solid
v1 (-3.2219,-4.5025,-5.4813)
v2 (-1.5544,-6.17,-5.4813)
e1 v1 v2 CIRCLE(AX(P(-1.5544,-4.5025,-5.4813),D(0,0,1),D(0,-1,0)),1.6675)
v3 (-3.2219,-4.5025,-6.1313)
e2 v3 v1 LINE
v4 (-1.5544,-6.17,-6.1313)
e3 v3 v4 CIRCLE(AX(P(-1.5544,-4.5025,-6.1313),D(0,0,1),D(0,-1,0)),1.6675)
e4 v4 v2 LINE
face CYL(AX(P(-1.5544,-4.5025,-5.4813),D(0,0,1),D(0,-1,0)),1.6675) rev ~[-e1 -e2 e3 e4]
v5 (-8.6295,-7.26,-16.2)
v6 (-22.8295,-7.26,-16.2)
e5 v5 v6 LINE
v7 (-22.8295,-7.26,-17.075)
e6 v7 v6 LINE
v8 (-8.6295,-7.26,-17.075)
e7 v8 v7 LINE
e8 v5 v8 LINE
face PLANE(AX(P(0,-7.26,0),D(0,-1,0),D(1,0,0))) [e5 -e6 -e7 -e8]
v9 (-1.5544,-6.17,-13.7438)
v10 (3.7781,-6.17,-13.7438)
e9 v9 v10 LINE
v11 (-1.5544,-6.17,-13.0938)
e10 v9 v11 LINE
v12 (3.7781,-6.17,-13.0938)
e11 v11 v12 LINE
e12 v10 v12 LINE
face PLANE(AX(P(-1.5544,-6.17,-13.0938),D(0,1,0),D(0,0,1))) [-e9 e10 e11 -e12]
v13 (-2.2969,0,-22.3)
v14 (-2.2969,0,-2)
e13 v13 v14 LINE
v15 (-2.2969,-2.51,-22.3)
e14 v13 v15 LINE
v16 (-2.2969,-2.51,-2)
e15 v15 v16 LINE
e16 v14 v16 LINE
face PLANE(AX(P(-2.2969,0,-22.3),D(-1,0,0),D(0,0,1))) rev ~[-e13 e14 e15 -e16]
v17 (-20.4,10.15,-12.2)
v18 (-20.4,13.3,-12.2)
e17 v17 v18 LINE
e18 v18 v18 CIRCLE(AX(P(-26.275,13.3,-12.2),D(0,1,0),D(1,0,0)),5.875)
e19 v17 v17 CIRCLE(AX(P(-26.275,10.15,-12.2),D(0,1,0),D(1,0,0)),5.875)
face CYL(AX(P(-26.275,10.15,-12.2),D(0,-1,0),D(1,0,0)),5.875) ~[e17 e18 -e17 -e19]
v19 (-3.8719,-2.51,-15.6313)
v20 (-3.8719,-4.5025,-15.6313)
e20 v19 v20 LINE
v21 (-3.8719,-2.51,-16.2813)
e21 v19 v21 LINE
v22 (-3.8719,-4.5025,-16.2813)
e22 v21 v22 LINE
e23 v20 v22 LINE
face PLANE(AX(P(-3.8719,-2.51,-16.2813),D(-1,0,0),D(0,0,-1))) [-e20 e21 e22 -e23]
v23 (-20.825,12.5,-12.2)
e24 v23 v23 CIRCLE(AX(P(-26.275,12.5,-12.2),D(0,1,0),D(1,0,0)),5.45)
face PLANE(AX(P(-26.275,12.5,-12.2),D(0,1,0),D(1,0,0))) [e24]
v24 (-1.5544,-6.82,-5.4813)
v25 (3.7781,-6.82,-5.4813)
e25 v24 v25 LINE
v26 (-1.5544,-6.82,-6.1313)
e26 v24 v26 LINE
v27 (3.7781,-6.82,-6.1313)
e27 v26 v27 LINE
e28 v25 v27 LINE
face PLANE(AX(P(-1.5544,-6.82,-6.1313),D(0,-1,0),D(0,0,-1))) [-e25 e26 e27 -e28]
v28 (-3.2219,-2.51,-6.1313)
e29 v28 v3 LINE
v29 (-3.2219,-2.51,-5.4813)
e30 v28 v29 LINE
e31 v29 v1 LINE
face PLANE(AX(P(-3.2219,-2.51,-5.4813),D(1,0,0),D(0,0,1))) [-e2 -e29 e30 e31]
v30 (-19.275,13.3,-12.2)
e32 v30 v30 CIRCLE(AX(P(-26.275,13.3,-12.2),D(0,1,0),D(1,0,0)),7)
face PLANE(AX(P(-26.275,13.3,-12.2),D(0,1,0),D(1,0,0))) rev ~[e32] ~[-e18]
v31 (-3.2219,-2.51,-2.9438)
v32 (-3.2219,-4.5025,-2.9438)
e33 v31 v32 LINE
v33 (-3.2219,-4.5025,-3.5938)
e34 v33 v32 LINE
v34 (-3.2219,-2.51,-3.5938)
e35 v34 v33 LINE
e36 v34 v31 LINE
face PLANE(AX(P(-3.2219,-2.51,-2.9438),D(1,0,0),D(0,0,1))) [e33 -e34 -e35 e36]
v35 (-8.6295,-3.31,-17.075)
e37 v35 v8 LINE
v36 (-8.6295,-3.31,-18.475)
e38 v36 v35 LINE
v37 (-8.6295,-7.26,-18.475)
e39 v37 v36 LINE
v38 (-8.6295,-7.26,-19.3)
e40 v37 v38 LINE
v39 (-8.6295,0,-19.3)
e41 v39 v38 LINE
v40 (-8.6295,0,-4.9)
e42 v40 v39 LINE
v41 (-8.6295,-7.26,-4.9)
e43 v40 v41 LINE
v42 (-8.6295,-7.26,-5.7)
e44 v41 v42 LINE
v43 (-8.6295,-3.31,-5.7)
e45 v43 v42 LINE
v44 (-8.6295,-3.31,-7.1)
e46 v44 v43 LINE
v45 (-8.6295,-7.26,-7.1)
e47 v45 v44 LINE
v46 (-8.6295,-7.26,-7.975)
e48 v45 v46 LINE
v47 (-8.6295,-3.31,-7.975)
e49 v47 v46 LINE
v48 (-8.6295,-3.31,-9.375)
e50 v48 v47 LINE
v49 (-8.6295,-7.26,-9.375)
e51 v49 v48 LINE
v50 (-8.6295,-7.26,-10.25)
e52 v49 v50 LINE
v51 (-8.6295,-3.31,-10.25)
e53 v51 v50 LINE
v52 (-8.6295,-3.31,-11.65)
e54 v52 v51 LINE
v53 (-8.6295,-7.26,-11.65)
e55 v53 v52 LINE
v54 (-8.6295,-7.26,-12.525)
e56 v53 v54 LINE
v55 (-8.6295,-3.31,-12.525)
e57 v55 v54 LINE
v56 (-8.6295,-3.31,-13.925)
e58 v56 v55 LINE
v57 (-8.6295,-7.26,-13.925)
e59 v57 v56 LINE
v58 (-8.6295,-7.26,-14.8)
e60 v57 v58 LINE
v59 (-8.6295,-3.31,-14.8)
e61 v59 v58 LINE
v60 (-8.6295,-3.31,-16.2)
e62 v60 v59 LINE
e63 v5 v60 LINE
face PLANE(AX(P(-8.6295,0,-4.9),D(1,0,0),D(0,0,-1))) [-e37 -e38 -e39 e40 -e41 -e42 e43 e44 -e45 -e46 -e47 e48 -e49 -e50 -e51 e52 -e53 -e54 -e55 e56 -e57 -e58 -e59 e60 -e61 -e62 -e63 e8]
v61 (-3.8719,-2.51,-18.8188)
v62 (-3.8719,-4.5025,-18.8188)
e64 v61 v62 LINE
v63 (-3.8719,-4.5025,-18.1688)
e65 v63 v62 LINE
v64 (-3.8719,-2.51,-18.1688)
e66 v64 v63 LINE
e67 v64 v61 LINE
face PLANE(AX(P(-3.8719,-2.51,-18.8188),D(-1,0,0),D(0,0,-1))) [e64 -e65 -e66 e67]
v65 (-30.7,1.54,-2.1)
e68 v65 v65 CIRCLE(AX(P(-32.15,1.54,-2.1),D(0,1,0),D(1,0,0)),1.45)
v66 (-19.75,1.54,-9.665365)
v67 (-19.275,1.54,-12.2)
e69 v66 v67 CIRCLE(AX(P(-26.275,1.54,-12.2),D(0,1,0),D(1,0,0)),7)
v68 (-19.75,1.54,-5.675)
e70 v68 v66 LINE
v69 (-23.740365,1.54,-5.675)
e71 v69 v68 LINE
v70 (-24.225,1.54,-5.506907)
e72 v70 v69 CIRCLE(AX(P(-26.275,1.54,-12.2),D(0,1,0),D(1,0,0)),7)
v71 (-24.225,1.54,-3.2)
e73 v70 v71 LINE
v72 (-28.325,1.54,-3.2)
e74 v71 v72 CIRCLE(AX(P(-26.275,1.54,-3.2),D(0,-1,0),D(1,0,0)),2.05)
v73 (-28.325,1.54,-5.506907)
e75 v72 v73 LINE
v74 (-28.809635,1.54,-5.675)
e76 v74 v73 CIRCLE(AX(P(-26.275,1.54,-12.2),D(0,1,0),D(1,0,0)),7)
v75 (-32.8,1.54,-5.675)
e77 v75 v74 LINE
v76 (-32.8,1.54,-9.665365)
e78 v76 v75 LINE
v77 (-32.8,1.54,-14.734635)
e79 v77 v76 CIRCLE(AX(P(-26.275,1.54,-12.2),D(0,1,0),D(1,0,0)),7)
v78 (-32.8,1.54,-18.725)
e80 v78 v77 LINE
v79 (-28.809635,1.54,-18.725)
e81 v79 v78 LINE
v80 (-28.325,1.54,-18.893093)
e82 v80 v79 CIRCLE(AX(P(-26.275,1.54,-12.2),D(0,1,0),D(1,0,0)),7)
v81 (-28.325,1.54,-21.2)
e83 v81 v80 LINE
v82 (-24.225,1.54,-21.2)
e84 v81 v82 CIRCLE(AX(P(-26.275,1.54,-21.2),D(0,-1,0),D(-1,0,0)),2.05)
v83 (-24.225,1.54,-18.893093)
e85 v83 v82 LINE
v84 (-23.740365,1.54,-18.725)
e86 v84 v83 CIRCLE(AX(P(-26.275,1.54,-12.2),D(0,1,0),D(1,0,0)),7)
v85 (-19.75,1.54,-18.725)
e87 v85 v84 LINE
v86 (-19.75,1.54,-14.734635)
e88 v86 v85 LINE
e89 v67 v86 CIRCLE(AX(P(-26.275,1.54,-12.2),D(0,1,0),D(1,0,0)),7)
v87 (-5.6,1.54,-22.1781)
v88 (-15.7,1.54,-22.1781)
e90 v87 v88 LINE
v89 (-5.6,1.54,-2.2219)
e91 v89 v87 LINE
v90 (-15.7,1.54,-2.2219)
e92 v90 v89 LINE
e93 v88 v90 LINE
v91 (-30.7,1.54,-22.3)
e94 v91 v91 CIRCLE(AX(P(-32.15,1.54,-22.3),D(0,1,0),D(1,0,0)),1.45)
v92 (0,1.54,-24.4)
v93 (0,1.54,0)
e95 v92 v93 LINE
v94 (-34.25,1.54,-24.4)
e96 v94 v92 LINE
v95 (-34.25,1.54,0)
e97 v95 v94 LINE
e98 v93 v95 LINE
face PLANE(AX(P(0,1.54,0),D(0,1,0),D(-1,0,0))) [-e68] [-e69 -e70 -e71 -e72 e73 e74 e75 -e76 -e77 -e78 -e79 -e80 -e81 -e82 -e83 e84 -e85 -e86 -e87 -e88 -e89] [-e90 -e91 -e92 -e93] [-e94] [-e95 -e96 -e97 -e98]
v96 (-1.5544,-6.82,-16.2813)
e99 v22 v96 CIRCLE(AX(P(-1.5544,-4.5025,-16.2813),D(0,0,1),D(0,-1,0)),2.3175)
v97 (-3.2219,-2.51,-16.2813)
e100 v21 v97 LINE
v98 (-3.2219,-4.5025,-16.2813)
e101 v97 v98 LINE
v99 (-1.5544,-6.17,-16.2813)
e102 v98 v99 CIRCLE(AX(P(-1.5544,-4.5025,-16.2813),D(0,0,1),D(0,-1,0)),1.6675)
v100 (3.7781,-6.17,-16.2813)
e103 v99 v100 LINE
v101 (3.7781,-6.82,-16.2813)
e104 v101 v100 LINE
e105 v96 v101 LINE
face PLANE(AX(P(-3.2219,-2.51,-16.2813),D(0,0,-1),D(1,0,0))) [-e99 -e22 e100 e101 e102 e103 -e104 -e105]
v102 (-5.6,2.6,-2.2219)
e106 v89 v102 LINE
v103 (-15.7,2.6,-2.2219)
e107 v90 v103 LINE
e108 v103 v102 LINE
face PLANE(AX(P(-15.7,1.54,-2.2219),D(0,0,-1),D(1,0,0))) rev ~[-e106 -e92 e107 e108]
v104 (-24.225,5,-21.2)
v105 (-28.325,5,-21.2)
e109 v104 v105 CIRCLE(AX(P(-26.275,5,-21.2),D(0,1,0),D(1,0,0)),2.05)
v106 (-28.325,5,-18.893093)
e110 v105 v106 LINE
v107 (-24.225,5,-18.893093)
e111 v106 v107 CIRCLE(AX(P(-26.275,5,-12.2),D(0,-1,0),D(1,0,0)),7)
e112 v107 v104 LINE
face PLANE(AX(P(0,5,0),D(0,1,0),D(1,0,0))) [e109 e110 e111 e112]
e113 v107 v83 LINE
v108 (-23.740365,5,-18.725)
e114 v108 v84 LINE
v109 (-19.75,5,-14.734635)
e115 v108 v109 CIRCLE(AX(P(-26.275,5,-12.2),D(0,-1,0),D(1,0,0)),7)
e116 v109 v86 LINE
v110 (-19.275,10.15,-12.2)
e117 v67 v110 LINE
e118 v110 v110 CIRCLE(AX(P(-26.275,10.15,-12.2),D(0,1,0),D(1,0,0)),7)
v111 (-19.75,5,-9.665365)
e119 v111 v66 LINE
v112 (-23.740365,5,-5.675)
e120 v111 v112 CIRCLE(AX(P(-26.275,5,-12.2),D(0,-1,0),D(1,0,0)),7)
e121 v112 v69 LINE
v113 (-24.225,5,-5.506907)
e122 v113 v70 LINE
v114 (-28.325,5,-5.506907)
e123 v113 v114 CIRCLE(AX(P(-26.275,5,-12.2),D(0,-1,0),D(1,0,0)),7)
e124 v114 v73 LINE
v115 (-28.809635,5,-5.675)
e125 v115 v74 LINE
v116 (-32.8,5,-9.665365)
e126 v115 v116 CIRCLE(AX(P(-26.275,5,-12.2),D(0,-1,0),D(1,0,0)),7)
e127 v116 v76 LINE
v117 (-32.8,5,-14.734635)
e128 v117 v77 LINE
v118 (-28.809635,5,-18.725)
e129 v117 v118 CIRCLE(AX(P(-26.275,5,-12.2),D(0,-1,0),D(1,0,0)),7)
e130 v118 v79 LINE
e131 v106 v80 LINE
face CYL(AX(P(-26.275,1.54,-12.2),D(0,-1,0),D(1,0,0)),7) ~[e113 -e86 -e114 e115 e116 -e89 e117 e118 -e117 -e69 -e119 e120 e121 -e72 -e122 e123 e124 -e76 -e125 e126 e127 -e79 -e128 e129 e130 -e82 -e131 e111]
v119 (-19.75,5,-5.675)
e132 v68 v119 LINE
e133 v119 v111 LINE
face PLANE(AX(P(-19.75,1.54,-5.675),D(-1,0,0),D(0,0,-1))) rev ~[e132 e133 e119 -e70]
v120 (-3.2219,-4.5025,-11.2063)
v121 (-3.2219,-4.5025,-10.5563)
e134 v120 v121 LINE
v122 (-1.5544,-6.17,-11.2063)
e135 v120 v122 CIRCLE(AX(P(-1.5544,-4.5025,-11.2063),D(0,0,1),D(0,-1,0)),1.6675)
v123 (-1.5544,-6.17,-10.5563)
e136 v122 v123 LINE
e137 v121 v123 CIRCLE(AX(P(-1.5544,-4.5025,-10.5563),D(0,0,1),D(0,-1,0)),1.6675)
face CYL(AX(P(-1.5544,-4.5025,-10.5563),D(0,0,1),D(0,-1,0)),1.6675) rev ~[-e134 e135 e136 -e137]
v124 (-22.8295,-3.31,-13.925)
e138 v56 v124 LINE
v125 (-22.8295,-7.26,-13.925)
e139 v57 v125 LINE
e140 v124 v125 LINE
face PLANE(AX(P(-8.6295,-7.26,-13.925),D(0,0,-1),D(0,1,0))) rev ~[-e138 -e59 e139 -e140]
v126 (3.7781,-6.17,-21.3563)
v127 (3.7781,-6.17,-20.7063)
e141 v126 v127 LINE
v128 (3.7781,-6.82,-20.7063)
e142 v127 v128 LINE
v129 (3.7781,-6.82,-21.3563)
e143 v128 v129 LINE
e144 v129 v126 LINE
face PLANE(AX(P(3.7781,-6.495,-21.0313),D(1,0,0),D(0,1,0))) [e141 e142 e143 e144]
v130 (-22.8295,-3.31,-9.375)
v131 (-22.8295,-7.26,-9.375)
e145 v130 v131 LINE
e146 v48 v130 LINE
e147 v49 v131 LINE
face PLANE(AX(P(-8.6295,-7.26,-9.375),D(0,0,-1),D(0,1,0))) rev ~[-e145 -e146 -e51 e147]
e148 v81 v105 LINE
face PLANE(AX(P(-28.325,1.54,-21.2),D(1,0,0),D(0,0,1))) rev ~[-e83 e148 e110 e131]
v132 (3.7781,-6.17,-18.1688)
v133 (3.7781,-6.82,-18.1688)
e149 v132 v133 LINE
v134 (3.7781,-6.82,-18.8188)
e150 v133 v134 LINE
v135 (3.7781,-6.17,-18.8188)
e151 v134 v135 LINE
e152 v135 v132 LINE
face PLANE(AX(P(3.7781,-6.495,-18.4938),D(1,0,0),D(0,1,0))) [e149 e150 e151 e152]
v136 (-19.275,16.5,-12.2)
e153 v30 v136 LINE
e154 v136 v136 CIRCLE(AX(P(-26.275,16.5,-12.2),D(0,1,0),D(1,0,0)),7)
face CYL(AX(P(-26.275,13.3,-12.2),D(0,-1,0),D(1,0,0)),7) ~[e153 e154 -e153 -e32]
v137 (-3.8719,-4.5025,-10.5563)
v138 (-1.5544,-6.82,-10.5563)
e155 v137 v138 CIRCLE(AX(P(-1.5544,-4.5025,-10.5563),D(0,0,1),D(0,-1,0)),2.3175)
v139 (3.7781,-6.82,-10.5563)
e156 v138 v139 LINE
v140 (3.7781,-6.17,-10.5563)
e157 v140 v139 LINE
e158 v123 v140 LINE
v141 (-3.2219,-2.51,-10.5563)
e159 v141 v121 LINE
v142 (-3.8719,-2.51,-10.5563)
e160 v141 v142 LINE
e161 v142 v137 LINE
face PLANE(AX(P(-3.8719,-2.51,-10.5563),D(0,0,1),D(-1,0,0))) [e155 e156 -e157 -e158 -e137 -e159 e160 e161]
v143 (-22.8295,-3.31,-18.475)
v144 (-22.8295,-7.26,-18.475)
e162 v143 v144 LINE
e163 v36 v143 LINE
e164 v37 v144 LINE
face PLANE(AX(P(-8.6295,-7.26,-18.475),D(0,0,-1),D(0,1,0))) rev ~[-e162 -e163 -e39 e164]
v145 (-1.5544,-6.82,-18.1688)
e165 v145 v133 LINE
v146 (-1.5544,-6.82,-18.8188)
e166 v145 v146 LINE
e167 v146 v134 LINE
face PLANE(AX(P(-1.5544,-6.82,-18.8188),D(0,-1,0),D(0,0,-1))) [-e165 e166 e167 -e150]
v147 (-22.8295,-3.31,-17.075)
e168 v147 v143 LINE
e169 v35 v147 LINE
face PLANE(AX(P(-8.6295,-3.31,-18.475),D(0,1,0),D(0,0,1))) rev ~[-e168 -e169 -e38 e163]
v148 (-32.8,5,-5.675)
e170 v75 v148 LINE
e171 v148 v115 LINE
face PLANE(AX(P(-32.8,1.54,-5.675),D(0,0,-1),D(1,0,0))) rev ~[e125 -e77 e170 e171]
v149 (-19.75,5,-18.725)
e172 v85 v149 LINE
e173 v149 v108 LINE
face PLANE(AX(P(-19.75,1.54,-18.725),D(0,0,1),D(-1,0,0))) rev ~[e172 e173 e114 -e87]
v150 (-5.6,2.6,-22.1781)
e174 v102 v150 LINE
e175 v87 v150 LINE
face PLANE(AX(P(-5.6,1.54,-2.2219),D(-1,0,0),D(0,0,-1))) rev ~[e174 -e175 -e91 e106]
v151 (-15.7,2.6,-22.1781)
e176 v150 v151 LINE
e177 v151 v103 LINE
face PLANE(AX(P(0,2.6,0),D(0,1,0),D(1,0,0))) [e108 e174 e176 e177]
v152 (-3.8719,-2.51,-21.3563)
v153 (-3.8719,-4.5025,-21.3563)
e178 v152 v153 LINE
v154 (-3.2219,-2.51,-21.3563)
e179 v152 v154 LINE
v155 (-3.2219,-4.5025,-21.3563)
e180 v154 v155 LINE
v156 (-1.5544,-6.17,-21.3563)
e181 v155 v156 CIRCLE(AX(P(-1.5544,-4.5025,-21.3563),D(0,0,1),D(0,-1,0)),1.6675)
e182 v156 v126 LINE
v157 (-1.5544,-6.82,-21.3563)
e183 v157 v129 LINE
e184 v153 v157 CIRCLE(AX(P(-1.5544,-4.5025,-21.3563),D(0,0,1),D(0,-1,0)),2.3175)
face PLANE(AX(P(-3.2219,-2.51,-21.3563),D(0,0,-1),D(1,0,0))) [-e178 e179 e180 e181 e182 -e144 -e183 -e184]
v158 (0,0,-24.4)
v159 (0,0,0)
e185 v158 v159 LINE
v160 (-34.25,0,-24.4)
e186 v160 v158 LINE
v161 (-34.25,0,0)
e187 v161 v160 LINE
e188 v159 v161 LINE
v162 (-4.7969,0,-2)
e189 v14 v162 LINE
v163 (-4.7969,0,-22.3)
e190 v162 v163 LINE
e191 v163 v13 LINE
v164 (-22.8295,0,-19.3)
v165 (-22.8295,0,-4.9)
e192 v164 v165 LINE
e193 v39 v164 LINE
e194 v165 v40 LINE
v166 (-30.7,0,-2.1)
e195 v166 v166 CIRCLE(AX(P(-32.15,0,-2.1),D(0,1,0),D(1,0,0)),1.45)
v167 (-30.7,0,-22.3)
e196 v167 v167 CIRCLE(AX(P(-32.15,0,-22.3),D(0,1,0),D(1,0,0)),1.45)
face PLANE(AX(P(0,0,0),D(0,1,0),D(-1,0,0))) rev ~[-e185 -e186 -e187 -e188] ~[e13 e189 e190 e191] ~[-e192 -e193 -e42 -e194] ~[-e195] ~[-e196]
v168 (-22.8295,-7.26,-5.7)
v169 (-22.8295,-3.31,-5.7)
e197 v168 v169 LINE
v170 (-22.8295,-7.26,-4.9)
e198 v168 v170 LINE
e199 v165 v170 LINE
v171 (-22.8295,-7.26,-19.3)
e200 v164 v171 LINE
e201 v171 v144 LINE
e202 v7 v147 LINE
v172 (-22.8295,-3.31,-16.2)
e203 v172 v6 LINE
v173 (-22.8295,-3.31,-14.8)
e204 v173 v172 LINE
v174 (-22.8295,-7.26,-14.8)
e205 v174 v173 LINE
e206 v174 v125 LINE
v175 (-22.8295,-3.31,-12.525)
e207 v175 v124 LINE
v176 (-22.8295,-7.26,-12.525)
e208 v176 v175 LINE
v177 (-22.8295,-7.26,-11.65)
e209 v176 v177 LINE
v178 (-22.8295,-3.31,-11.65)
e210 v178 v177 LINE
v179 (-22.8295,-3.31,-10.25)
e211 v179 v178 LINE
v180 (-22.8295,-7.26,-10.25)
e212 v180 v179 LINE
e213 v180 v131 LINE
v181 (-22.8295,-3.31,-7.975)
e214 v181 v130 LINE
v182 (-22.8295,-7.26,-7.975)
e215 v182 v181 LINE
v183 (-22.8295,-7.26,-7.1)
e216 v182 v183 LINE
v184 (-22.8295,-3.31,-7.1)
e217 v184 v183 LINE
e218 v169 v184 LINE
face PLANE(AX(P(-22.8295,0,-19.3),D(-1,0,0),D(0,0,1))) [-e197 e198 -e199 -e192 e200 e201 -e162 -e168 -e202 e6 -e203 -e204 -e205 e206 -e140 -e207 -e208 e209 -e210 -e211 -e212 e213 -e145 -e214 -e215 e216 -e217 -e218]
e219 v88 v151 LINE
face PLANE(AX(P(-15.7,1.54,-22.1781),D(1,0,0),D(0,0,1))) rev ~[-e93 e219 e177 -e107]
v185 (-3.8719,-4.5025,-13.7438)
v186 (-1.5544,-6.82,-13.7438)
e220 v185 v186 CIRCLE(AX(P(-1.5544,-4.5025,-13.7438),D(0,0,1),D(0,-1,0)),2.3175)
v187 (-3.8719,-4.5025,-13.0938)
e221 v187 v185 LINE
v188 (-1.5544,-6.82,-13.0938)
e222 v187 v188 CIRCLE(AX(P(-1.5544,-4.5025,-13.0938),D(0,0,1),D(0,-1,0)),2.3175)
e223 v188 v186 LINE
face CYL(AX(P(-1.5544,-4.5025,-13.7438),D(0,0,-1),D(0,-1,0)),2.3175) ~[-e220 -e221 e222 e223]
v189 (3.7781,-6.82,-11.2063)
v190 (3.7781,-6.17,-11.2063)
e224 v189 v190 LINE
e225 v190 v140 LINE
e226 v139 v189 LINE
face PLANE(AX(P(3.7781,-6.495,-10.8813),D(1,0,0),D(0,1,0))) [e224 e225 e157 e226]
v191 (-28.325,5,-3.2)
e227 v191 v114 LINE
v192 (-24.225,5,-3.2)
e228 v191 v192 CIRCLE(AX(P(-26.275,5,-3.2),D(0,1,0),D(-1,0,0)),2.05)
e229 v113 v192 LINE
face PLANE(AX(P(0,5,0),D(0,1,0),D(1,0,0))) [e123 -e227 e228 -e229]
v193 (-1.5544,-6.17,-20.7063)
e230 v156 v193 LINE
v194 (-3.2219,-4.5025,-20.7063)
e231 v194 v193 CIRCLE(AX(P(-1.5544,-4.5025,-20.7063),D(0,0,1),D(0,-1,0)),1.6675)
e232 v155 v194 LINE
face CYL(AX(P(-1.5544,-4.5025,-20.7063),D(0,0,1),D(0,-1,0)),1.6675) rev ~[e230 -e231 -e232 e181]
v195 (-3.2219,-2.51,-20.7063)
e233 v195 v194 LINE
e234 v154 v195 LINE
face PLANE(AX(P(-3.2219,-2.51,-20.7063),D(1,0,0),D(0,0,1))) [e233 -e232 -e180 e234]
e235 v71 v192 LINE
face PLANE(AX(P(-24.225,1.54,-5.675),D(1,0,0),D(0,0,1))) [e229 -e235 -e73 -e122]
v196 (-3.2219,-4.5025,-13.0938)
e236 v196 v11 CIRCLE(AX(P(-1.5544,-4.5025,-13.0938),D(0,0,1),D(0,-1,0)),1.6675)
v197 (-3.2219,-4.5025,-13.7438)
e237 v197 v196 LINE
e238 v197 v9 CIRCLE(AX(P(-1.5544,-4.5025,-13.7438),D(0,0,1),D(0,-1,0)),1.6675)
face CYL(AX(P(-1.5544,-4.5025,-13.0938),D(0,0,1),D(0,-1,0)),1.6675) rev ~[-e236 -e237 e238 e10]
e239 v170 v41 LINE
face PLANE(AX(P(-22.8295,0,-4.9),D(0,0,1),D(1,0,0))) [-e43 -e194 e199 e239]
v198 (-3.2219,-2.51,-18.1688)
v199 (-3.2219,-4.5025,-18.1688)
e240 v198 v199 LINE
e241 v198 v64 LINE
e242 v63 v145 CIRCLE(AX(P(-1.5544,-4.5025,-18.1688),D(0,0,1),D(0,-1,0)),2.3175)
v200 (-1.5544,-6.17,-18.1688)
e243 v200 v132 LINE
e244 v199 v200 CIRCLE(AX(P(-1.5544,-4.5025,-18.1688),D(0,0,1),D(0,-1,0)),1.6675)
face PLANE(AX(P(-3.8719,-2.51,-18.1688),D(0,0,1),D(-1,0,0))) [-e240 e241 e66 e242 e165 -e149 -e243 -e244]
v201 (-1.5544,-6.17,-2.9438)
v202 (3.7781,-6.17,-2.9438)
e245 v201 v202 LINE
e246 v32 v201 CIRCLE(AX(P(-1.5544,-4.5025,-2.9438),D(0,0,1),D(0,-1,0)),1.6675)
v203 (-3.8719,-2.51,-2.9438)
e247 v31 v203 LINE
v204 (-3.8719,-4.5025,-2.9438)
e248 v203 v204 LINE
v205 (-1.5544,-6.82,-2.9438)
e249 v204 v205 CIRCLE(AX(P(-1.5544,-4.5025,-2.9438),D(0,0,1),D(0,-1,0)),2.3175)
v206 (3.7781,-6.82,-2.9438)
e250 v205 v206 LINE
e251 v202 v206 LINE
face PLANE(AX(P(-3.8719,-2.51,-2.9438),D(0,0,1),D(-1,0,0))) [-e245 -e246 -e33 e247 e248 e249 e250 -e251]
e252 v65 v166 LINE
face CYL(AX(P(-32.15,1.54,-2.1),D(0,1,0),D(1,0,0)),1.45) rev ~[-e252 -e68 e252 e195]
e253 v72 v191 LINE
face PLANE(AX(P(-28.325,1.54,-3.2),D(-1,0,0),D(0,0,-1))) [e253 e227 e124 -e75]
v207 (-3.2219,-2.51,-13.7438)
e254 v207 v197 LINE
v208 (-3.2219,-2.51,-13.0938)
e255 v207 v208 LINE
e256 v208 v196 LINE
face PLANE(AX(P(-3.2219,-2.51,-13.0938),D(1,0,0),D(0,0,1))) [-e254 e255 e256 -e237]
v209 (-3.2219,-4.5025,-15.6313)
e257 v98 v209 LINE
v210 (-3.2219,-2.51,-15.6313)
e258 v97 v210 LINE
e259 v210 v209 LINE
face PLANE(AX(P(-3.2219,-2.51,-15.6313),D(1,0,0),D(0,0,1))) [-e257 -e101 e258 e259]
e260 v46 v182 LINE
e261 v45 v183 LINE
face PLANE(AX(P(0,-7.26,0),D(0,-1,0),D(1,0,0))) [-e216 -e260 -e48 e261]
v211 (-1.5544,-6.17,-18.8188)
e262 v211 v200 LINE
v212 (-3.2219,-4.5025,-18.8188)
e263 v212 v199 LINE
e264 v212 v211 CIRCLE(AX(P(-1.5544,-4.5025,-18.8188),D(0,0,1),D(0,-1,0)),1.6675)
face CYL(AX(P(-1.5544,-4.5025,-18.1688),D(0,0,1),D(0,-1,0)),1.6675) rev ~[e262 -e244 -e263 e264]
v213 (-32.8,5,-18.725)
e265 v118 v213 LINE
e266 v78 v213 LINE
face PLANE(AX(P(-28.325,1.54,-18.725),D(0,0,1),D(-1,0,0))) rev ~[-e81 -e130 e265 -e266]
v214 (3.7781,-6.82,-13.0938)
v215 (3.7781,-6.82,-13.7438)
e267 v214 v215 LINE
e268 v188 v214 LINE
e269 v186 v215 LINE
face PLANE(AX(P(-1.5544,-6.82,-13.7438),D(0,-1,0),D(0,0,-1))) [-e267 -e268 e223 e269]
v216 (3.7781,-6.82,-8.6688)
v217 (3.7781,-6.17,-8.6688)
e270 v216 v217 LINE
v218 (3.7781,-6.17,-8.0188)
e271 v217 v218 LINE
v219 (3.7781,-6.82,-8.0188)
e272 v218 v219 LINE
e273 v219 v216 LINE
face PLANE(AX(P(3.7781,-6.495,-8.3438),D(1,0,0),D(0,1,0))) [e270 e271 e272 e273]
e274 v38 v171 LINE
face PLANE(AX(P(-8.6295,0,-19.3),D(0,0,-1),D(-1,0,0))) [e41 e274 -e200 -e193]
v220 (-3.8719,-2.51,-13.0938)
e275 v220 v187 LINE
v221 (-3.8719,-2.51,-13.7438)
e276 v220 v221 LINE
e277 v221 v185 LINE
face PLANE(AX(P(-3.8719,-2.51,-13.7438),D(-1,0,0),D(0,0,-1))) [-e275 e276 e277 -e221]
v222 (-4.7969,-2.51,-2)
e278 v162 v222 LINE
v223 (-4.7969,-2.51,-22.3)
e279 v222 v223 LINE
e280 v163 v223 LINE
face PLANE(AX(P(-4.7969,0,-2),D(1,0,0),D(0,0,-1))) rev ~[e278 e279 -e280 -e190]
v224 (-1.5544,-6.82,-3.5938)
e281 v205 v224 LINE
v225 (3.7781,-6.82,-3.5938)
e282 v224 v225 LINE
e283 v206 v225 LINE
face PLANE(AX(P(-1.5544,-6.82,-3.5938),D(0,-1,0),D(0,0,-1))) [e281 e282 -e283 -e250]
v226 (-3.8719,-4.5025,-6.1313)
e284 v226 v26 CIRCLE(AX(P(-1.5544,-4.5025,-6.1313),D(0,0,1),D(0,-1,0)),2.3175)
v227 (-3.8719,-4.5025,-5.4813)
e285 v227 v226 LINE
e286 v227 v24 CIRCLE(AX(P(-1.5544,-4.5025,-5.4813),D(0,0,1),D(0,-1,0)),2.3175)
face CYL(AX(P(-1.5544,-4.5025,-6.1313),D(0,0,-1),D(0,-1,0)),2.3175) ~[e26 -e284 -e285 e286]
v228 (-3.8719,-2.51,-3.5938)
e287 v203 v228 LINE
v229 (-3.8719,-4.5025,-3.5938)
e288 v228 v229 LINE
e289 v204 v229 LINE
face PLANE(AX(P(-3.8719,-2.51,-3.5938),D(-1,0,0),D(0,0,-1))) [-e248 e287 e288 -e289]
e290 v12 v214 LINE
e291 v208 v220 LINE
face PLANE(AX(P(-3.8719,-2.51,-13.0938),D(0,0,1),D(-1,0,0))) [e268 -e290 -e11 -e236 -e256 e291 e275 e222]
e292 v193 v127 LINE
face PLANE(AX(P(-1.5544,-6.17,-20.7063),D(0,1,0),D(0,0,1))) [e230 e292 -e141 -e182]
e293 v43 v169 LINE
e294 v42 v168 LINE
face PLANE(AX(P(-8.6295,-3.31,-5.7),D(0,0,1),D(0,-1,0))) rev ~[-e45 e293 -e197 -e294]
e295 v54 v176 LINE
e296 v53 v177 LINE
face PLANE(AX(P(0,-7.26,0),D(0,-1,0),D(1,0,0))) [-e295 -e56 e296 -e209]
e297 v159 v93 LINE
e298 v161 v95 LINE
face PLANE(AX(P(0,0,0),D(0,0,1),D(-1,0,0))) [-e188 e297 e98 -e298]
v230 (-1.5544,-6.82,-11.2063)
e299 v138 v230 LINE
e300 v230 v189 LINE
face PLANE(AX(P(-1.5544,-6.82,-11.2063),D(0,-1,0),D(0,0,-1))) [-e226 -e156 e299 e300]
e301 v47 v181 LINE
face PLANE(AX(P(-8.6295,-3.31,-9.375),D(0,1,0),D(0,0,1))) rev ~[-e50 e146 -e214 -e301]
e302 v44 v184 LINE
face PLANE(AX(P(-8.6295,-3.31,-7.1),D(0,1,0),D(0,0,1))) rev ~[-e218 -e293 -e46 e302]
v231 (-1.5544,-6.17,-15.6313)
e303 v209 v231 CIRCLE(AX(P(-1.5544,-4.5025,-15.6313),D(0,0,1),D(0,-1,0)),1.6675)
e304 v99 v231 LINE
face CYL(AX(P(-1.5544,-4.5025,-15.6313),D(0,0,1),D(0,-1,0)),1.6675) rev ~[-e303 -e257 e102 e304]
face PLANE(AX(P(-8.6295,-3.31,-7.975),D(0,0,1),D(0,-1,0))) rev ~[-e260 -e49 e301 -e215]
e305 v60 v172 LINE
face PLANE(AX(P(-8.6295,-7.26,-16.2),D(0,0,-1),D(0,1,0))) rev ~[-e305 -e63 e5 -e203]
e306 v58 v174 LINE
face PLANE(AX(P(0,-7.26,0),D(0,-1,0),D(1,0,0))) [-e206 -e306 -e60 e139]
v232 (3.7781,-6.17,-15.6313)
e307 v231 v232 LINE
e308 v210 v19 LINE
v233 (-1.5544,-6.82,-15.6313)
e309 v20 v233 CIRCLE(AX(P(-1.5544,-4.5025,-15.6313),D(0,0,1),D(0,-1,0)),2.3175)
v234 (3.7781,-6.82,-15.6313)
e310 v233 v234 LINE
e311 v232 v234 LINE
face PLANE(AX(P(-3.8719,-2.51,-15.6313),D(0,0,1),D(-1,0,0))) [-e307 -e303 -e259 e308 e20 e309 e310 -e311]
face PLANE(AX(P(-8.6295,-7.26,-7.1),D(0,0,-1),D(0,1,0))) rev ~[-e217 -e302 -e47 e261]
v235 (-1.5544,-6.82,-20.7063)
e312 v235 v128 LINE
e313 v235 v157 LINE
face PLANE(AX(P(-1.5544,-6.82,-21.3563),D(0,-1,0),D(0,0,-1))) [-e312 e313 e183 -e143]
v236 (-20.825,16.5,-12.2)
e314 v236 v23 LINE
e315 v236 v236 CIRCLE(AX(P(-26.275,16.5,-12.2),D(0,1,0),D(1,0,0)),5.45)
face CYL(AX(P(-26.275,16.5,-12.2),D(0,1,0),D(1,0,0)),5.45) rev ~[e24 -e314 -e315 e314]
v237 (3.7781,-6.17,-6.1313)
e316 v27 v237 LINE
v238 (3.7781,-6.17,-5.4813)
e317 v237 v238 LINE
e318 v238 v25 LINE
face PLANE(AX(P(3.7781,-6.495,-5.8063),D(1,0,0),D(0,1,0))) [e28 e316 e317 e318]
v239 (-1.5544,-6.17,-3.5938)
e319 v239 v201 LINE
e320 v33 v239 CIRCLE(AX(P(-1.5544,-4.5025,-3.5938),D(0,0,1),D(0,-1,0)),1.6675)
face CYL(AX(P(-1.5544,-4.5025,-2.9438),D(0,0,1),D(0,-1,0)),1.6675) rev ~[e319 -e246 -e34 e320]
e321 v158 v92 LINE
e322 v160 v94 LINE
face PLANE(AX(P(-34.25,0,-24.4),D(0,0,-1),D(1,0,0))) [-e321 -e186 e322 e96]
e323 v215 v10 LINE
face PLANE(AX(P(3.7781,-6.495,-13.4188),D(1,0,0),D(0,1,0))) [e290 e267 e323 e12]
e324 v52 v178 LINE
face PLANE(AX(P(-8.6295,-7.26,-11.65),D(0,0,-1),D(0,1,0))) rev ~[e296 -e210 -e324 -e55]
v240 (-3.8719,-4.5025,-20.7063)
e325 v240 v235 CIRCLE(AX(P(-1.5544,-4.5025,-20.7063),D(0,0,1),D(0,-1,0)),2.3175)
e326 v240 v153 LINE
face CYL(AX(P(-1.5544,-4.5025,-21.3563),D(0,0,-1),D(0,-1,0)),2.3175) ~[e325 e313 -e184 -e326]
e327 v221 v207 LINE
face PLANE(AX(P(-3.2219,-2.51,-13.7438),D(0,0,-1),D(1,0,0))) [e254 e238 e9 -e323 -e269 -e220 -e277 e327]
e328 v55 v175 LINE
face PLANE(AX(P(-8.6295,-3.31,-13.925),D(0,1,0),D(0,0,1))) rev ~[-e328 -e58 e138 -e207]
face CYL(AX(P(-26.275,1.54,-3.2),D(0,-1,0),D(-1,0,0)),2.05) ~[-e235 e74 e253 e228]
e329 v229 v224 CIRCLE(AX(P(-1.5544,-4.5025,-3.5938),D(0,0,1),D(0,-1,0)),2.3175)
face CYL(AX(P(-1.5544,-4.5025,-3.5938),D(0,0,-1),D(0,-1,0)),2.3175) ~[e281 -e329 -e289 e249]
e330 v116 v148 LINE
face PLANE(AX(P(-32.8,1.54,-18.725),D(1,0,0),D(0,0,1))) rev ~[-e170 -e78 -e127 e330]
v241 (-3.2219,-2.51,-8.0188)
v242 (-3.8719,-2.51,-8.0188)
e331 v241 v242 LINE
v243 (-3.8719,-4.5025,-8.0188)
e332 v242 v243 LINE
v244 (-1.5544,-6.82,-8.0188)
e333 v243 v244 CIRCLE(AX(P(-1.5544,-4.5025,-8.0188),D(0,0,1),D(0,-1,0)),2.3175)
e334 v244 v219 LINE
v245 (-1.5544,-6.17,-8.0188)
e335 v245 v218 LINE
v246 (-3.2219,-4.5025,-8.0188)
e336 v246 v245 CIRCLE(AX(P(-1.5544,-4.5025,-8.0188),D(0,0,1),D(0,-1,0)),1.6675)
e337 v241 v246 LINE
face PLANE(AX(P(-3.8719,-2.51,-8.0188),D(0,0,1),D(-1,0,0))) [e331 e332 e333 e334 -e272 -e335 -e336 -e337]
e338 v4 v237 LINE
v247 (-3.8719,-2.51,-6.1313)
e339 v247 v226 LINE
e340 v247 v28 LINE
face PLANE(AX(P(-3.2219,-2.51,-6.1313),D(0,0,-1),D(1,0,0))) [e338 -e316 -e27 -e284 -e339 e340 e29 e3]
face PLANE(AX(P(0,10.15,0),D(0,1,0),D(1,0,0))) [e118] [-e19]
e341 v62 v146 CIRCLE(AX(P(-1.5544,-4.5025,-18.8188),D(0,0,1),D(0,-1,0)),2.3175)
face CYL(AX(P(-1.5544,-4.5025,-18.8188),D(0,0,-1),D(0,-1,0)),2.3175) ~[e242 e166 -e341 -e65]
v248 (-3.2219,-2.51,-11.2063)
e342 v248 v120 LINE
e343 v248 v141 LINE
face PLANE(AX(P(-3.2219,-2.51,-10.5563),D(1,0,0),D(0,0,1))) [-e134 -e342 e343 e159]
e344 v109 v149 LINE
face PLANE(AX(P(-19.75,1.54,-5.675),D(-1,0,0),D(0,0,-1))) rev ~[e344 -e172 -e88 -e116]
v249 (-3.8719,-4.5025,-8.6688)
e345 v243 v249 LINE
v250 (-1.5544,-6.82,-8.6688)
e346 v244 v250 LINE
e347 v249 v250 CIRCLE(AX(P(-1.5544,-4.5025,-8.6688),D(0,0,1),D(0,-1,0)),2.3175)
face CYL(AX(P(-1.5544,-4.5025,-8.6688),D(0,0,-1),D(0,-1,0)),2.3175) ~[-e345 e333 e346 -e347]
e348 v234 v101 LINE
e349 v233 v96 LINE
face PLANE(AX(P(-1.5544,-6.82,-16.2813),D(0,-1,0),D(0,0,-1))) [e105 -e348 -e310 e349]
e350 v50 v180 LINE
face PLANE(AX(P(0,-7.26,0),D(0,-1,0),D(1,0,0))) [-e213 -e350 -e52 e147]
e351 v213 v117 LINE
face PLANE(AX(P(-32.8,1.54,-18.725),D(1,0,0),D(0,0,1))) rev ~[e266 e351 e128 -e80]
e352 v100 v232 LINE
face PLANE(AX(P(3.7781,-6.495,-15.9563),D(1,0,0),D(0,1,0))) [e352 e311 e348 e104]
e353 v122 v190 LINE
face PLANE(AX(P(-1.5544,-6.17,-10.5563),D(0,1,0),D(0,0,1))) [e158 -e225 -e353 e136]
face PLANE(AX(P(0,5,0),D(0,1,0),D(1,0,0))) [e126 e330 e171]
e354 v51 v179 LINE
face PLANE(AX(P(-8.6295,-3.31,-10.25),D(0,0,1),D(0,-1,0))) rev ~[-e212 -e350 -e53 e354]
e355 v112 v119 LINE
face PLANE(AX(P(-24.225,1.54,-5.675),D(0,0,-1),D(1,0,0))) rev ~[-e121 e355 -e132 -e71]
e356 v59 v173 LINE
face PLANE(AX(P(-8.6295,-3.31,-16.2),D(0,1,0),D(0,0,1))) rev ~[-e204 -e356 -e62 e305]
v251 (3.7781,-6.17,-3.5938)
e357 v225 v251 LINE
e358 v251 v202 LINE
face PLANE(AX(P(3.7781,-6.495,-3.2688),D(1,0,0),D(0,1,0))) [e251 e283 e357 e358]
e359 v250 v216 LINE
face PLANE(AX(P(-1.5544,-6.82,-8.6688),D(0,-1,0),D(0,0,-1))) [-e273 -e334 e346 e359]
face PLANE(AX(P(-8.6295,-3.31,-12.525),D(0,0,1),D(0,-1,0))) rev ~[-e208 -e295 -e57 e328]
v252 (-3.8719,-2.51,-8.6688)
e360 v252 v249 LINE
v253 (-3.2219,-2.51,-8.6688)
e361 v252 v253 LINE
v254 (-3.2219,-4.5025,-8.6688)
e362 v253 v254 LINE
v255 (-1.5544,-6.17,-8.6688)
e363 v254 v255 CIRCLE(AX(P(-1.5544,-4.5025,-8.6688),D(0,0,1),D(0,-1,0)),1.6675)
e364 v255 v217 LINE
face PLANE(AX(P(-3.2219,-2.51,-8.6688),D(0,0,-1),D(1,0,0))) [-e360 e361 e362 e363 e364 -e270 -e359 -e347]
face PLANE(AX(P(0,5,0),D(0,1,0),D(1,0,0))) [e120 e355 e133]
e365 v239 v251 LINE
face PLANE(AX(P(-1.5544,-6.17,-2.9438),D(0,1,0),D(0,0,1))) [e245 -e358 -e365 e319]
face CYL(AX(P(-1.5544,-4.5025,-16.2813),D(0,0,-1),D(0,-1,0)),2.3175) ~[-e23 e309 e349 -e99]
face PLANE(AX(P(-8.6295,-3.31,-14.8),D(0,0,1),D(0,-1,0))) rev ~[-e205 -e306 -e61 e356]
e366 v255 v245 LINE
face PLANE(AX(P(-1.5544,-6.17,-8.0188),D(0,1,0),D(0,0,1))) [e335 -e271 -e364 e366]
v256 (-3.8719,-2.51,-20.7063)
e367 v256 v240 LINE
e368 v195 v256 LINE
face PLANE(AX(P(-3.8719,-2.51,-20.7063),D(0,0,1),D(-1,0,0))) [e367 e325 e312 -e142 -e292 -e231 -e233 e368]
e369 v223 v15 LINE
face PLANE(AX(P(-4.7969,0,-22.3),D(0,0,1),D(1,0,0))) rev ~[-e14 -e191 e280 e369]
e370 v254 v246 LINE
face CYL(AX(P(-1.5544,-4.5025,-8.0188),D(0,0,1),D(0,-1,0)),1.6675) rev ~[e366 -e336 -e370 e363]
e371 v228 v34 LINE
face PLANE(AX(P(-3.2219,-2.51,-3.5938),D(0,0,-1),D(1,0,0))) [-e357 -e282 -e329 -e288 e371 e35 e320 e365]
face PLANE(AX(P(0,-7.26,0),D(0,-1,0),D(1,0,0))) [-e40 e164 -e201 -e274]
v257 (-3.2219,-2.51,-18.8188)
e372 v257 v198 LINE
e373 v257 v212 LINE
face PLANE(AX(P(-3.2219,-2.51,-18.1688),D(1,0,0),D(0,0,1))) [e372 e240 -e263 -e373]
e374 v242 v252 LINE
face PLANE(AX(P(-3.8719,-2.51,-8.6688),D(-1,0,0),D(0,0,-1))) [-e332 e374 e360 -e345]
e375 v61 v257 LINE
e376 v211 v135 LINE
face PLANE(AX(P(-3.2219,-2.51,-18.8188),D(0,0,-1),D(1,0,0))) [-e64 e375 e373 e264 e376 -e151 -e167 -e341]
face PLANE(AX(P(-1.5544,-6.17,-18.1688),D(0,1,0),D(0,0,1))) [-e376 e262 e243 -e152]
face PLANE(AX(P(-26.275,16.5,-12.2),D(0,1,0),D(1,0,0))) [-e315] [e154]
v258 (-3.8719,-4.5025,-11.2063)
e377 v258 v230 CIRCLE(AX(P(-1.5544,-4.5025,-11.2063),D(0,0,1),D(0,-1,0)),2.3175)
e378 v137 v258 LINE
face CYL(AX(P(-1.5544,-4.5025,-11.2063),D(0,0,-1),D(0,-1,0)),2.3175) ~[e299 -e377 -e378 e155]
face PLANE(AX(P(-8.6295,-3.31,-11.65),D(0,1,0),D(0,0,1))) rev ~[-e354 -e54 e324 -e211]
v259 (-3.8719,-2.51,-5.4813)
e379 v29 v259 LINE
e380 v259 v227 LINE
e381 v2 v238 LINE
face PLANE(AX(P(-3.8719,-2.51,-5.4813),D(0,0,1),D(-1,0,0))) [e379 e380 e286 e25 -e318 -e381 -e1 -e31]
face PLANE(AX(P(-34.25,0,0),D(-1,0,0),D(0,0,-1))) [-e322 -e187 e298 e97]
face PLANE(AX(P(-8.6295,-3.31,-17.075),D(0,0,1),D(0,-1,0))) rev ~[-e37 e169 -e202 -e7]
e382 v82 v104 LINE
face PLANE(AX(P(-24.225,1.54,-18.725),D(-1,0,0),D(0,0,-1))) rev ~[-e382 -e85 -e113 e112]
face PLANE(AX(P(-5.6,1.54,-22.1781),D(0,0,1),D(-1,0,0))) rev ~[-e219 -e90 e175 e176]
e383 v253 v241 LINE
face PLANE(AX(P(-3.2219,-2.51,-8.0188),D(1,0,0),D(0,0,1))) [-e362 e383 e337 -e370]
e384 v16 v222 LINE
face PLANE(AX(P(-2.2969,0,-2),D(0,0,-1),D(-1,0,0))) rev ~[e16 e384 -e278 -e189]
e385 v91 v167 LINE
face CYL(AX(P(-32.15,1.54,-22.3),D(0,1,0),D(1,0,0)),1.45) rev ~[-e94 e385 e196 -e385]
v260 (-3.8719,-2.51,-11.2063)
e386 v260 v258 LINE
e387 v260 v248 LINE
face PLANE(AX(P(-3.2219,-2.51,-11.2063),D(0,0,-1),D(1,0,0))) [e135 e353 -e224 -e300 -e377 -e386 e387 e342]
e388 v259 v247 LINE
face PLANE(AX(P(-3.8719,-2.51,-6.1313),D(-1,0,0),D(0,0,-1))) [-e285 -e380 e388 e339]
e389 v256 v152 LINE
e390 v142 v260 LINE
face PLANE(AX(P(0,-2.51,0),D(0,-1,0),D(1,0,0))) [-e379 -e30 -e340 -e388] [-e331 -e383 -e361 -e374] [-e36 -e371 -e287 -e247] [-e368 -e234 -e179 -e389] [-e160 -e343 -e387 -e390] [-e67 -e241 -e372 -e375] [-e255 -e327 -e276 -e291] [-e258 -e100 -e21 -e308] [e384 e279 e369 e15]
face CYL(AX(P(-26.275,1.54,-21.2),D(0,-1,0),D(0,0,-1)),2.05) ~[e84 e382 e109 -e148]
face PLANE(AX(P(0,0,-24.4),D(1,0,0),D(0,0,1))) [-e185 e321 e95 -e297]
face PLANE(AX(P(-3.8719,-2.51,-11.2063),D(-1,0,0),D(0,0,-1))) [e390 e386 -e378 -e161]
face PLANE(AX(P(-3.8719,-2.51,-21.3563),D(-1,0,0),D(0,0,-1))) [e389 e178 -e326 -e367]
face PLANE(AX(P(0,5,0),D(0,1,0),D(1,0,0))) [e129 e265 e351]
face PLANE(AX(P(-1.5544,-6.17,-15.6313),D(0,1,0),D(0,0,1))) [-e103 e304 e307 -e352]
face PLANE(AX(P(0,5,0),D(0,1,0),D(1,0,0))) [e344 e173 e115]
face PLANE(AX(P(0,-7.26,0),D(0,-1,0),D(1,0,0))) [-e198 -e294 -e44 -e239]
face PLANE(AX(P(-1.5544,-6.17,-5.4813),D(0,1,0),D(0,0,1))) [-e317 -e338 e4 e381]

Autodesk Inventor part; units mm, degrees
ref_plane "YZ Plane" through (0, 0, 0) normal (1, 0, 0) x (0, 1, 0)
ref_plane "XZ Plane" through (0, 0, 0) normal (0, 1, 0) x (-1, 0, 0)
ref_plane "XY Plane" through (0, 0, 0) normal (0, 0, 1) x (1, 0, 0)
sketch "Sketch1" plane through (0, 0, 0) normal (0, 1, 0) x (-1, 0, 0)
  line L0 (0, 0) -> (34.25, 0)
  line L1 (34.25, 0) -> (34.25, -24.4)
  line L2 (34.25, -24.4) -> (0, -24.4)
  line L3 (0, -24.4) -> (0, 0)
  dimension "d0" = 24.4
  dimension "d1" = 34.25
extrude "Extrusion1" add sketch "Sketch1" along normal blind 1.54
sketch "Sketch4" plane through (0, 1.54, 0) normal (0, 1, 0) x (1, 0, 0)
  line L0 (-32.8, 5.675) -> (-19.75, 5.675)
  line L1 (-19.75, 5.675) -> (-19.75, 18.725)
  line L2 (-19.75, 18.725) -> (-32.8, 18.725)
  line L3 (-32.8, 18.725) -> (-32.8, 5.675)
  circle A0 centre (-32.12, 2.2) radius 1.5 projected
  line L4 (-34.25, 24.4) -> (-34.25, 0) construction
  line L5 (-34.25, 12.2) -> (0, 12.2) construction
  line L6 (0, 0) -> (0, 24.4) construction
  line L7 (-26.275, 18.725) -> (-26.275, 5.675) construction
  line L8 (-28.325, 18.725) -> (-24.225, 18.725)
  line L9 (-24.225, 18.725) -> (-24.225, 21.2)
  line L10 (-26.275, 23.25) -> (-26.275, 23.25)
  line L11 (-28.325, 21.2) -> (-28.325, 18.725)
  line L12 (-24.225, 5.675) -> (-24.225, 3.2)
  line L13 (-26.275, 1.15) -> (-26.275, 1.15)
  line L14 (-28.325, 3.2) -> (-28.325, 5.675)
  arc A1 (-26.275, 23.25) -> (-28.325, 21.2) centre (-26.275, 21.2) ccw
  arc A2 (-24.225, 21.2) -> (-26.275, 23.25) centre (-26.275, 21.2) ccw
  arc A3 (-28.325, 3.2) -> (-26.275, 1.15) centre (-26.275, 3.2) ccw
  arc A4 (-26.275, 1.15) -> (-24.225, 3.2) centre (-26.275, 3.2) ccw
  point P0 (-24.225, 23.25)
  point P1 (-28.325, 23.25)
  point P2 (-24.225, 1.15)
  point P3 (-28.325, 1.15)
  point P4 (-26.275, 1.15)
  dimension "d43" = 13.05
  dimension "d44" = 14.5
  dimension "d56" = 4.1
  dimension "d57" = 22.1
  dimension "d58" = 2.05
extrude "Extrusion2" add sketch "Sketch4" along normal blind 3.46 contours L3 L2 L1 L0 | L0 L12 A4 A3 L14 | L11 A1 A2 L9 L2
sketch "Sketch8" plane through (0, 1.54, 0) normal (0, 1, 0) x (1, 0, 0)
  line L0 (0, 24.4) -> (-34.25, 24.4) projected
  line L1 (0, 0) -> (0, 24.4) projected
  line L2 (-34.25, 0) -> (0, 0) projected
  line L3 (-34.25, 24.4) -> (-34.25, 0) projected
  line L4 (-32.8, 5.675) -> (-32.8, 18.725) construction
  line L5 (-32.8, 12.2) -> (-26.275, 12.2) construction
  line L6 (-26.275, 12.2) -> (-26.275, 18.725) construction
  line L7 (-32.8, 18.725) -> (-19.75, 18.725) construction
  circle A0 centre (-26.275, 12.2) radius 7
  dimension "d45" = 14
extrude "Extrusion6" add sketch "Sketch8" along normal blind 8.61 contours A0
sketch "Sketch9" plane through (-26.275, 10.15, -12.2) normal (0, 1, 0) x (1, 0, 0)
  circle A0 centre (0, 0) radius 7 projected
  circle A1 centre (0, 0) radius 5.875
  point P0 (26.275, -12.2)
  dimension "d48" = 11.75
extrude "Extrusion7" add sketch "Sketch9" along normal blind 3.15 contours A1
sketch "Sketch10" plane through (-26.275, 13.3, -12.2) normal (0, 1, 0) x (1, 0, 0)
  circle A0 centre (0, 0) radius 5.875 projected
  circle A1 centre (0, 0) radius 7 projected
  point P0 (26.275, -12.2)
extrude "Extrusion8" add sketch "Sketch10" along normal blind 3.2 contours A0 | A1
sketch "Sketch11" plane through (-26.275, 16.5, -12.2) normal (0, 1, 0) x (1, 0, 0)
  circle A0 centre (0, 0) radius 7 projected
  circle A1 centre (0, 0) radius 5.45
  point P0 (26.275, -12.2)
  dimension "d53" = 10.9
extrude "Extrusion9" cut sketch "Sketch11" against normal blind 4 contours A1
sketch "Sketch12" plane through (0, 1.54, 0) normal (0, 1, 0) x (1, 0, 0)
  circle A0 centre (-32.15, 2.1) radius 1.45
  line L0 (-34.25, 24.4) -> (-34.25, 0) construction
  line L1 (-34.25, 12.2) -> (0, 12.2) construction
  line L2 (0, 0) -> (0, 24.4) construction
  circle A1 centre (-32.15, 22.3) radius 1.45
  line L3 (-34.25, 0) -> (0, 0) projected
  dimension "d59" = 2.9
  dimension "d60" = 0.65
  dimension "d61" = 0.65
extrude "Extrusion10" cut sketch "Sketch12" against normal through all
sketch "Sketch13" plane through (0, 1.54, 0) normal (0, 1, 0) x (1, 0, 0)
  line L0 (-15.7, 2.2219) -> (-5.6, 2.2219)
  line L1 (-5.6, 2.2219) -> (-5.6, 22.1781)
  line L2 (-5.6, 22.1781) -> (-15.7, 22.1781)
  line L3 (-15.7, 22.1781) -> (-15.7, 2.2219)
  line L4 (0, 0) -> (0, 24.4) construction
  line L5 (0, 12.2) -> (-34.25, 12.2) construction
  line L6 (-34.25, 24.4) -> (-34.25, 0) construction
  dimension "d64" = 15.7
  dimension "d65" = 10.1
extrude "Extrusion11" add sketch "Sketch13" along normal blind 1.06
sketch "Sketch14" plane through (0, 0, 0) normal (0, -1, 0) x (1, 0, 0)
  line L0 (-8.6295, -19.3) -> (-22.8295, -19.3)
  line L1 (-22.8295, -19.3) -> (-22.8295, -4.9)
  line L2 (-22.8295, -4.9) -> (-8.6295, -4.9)
  line L3 (-8.6295, -4.9) -> (-8.6295, -19.3)
  line L4 (0, -24.4) -> (-34.25, -24.4) projected
  point P0 (0, 0)
  dimension "d68" = 14.2
  dimension "d69" = 14.4
  dimension "d70" = 19.5
extrude "Extrusion12" add sketch "Sketch14" along normal blind 7.26
sketch "Sketch15" plane through (-8.6295, 0, -4.9) normal (1, 0, 0) x (0, 0, -1)
  line L0 (0, -7.26) -> (14.4, -7.26) projected
  line L1 (0.8, -7.26) -> (2.2, -7.26)
  line L2 (2.2, -7.26) -> (2.2, -3.31)
  line L3 (2.2, -3.31) -> (0.8, -3.31)
  line L4 (0.8, -3.31) -> (0.8, -7.26)
  line L5 (0, 0) -> (0, -7.26) projected
  line L6 (3.075, -7.26) -> (4.475, -7.26)
  line L7 (4.475, -7.26) -> (4.475, -3.31)
  line L8 (4.475, -3.31) -> (3.075, -3.31)
  line L9 (3.075, -3.31) -> (3.075, -7.26)
  line L10 (5.35, -7.26) -> (6.75, -7.26)
  line L11 (6.75, -7.26) -> (6.75, -3.31)
  line L12 (6.75, -3.31) -> (5.35, -3.31)
  line L13 (5.35, -3.31) -> (5.35, -7.26)
  line L14 (7.625, -7.26) -> (9.025, -7.26)
  line L15 (9.025, -7.26) -> (9.025, -3.31)
  line L16 (9.025, -3.31) -> (7.625, -3.31)
  line L17 (7.625, -3.31) -> (7.625, -7.26)
  line L18 (9.9, -7.26) -> (11.3, -7.26)
  line L19 (11.3, -7.26) -> (11.3, -3.31)
  line L20 (11.3, -3.31) -> (9.9, -3.31)
  line L21 (9.9, -3.31) -> (9.9, -7.26)
  line L22 (12.175, -7.26) -> (13.575, -7.26)
  line L23 (13.575, -7.26) -> (13.575, -3.31)
  line L24 (13.575, -3.31) -> (12.175, -3.31)
  line L25 (12.175, -3.31) -> (12.175, -7.26)
  point P0 (-4.9, 0)
  point P1 (2.2, -7.26)
  point P2 (3.075, -7.26)
  point P3 (5.35, -7.26)
  point P4 (6.75, -7.26)
  point P5 (7.625, -7.26)
  point P6 (9.025, -7.26)
  point P7 (12.175, -7.26)
  dimension "d73" = 3.95
  dimension "d74" = 0.8
  dimension "d75" = 1.4
  dimension "d78" = 2.275
extrude "Extrusion13" cut sketch "Sketch15" against normal through all
sketch "Sketch16" plane through (0, 0, 0) normal (0, -1, 0) x (1, 0, 0)
  line L0 (-2.2969, -2) -> (-4.7969, -2)
  line L1 (-4.7969, -2) -> (-4.7969, -22.3)
  line L2 (-4.7969, -22.3) -> (-2.2969, -22.3)
  line L3 (-2.2969, -22.3) -> (-2.2969, -2)
  line L4 (0, -24.4) -> (-34.25, -24.4) projected
  point P0 (0, 0)
  dimension "d85" = 20.3
  dimension "d86" = 2.5
  dimension "d87" = 22.4
extrude "Extrusion14" add sketch "Sketch16" along normal blind 2.51
sketch "Sketch17" plane through (0, -2.51, 0) normal (0, -1, 0) x (1, 0, 0)
  line L0 (-3.2219, -21.3563) -> (-3.8719, -21.3563)
  line L1 (-3.8719, -21.3563) -> (-3.8719, -20.7063)
  line L2 (-3.8719, -20.7063) -> (-3.2219, -20.7063)
  line L3 (-3.2219, -20.7063) -> (-3.2219, -21.3563)
  line L4 (-2.2969, -22.3) -> (-4.7969, -22.3) construction
  line L5 (-3.5469, -22.3) -> (-3.5469, -2) construction
  line L6 (-4.7969, -2) -> (-2.2969, -2) construction
  line L7 (-2.2969, -2) -> (-2.2969, -22.3) construction
  line L8 (-2.2969, -19.7625) -> (-4.7969, -19.7625) construction
  line L9 (-4.7969, -22.3) -> (-4.7969, -2) construction
  line L10 (-2.2969, -21.0313) -> (-4.7969, -21.0313) construction
  line L11 (-3.2219, -18.8188) -> (-3.8719, -18.8188)
  line L12 (-3.8719, -18.8188) -> (-3.8719, -18.1688)
  line L13 (-3.8719, -18.1688) -> (-3.2219, -18.1688)
  line L14 (-3.2219, -18.1688) -> (-3.2219, -18.8188)
  line L15 (-3.2219, -16.2813) -> (-3.8719, -16.2813)
  line L16 (-3.8719, -16.2813) -> (-3.8719, -15.6313)
  line L17 (-3.8719, -15.6313) -> (-3.2219, -15.6313)
  line L18 (-3.2219, -15.6313) -> (-3.2219, -16.2813)
  line L19 (-3.2219, -13.7438) -> (-3.8719, -13.7438)
  line L20 (-3.8719, -13.7438) -> (-3.8719, -13.0938)
  line L21 (-3.8719, -13.0938) -> (-3.2219, -13.0938)
  line L22 (-3.2219, -13.0938) -> (-3.2219, -13.7438)
  line L23 (-3.2219, -11.2063) -> (-3.8719, -11.2063)
  line L24 (-3.8719, -11.2063) -> (-3.8719, -10.5563)
  line L25 (-3.8719, -10.5563) -> (-3.2219, -10.5563)
  line L26 (-3.2219, -10.5563) -> (-3.2219, -11.2063)
  line L27 (-3.2219, -8.6688) -> (-3.8719, -8.6688)
  line L28 (-3.8719, -8.6688) -> (-3.8719, -8.0188)
  line L29 (-3.8719, -8.0188) -> (-3.2219, -8.0188)
  line L30 (-3.2219, -8.0188) -> (-3.2219, -8.6688)
  line L31 (-3.2219, -6.1313) -> (-3.8719, -6.1313)
  line L32 (-3.8719, -6.1313) -> (-3.8719, -5.4813)
  line L33 (-3.8719, -5.4813) -> (-3.2219, -5.4813)
  line L34 (-3.2219, -5.4813) -> (-3.2219, -6.1313)
  line L35 (-3.2219, -3.5938) -> (-3.8719, -3.5938)
  line L36 (-3.8719, -3.5938) -> (-3.8719, -2.9438)
  line L37 (-3.8719, -2.9438) -> (-3.2219, -2.9438)
  line L38 (-3.2219, -2.9438) -> (-3.2219, -3.5938)
  point P0 (0, 0)
  dimension "d90" = 0.65
  dimension "d91" = 20.3
  dimension "d92" = 2.5375
  dimension "d95" = 2.5375
ref_plane "Work Plane1" through (-2.2969, 0, -22.3) normal (0, 0, -1) x (-1, 0, 0)
sketch "Sketch18" plane through (-2.2969, 0, -22.3) normal (0, 0, -1) x (-1, 0, 0)
  line L0 (2.5, -2.51) -> (0, -2.51) projected
  line L1 (1.25, -2.51) -> (1.25, -4.5025)
  line L2 (-0.7425, -6.495) -> (-6.075, -6.495)
  arc A0 (-0.7425, -6.495) -> (1.25, -4.5025) centre (-0.7425, -4.5025) ccw
  point P0 (-2.2969, 0)
  point P1 (1.25, -6.495)
  dimension "d101" = 3.985
  dimension "d102" = 7.325
  dimension "d103" = 1.9925
sweep "Sweep1" add profiles "Sketch17" path "Sketch18" path curves L1 A0 L2
equation "\"d2\" = pcbThickness"
equation "\"d58\" = 0.5 * d56"
equation "\"d92\" = 0.125 * d91"
equation "\"d95\" = 0.125 * d91"
equation "\"d103\" = 0.5 * d101"
equation "\"pcbThickness\" = 1.54"
properties part number "Camera"
